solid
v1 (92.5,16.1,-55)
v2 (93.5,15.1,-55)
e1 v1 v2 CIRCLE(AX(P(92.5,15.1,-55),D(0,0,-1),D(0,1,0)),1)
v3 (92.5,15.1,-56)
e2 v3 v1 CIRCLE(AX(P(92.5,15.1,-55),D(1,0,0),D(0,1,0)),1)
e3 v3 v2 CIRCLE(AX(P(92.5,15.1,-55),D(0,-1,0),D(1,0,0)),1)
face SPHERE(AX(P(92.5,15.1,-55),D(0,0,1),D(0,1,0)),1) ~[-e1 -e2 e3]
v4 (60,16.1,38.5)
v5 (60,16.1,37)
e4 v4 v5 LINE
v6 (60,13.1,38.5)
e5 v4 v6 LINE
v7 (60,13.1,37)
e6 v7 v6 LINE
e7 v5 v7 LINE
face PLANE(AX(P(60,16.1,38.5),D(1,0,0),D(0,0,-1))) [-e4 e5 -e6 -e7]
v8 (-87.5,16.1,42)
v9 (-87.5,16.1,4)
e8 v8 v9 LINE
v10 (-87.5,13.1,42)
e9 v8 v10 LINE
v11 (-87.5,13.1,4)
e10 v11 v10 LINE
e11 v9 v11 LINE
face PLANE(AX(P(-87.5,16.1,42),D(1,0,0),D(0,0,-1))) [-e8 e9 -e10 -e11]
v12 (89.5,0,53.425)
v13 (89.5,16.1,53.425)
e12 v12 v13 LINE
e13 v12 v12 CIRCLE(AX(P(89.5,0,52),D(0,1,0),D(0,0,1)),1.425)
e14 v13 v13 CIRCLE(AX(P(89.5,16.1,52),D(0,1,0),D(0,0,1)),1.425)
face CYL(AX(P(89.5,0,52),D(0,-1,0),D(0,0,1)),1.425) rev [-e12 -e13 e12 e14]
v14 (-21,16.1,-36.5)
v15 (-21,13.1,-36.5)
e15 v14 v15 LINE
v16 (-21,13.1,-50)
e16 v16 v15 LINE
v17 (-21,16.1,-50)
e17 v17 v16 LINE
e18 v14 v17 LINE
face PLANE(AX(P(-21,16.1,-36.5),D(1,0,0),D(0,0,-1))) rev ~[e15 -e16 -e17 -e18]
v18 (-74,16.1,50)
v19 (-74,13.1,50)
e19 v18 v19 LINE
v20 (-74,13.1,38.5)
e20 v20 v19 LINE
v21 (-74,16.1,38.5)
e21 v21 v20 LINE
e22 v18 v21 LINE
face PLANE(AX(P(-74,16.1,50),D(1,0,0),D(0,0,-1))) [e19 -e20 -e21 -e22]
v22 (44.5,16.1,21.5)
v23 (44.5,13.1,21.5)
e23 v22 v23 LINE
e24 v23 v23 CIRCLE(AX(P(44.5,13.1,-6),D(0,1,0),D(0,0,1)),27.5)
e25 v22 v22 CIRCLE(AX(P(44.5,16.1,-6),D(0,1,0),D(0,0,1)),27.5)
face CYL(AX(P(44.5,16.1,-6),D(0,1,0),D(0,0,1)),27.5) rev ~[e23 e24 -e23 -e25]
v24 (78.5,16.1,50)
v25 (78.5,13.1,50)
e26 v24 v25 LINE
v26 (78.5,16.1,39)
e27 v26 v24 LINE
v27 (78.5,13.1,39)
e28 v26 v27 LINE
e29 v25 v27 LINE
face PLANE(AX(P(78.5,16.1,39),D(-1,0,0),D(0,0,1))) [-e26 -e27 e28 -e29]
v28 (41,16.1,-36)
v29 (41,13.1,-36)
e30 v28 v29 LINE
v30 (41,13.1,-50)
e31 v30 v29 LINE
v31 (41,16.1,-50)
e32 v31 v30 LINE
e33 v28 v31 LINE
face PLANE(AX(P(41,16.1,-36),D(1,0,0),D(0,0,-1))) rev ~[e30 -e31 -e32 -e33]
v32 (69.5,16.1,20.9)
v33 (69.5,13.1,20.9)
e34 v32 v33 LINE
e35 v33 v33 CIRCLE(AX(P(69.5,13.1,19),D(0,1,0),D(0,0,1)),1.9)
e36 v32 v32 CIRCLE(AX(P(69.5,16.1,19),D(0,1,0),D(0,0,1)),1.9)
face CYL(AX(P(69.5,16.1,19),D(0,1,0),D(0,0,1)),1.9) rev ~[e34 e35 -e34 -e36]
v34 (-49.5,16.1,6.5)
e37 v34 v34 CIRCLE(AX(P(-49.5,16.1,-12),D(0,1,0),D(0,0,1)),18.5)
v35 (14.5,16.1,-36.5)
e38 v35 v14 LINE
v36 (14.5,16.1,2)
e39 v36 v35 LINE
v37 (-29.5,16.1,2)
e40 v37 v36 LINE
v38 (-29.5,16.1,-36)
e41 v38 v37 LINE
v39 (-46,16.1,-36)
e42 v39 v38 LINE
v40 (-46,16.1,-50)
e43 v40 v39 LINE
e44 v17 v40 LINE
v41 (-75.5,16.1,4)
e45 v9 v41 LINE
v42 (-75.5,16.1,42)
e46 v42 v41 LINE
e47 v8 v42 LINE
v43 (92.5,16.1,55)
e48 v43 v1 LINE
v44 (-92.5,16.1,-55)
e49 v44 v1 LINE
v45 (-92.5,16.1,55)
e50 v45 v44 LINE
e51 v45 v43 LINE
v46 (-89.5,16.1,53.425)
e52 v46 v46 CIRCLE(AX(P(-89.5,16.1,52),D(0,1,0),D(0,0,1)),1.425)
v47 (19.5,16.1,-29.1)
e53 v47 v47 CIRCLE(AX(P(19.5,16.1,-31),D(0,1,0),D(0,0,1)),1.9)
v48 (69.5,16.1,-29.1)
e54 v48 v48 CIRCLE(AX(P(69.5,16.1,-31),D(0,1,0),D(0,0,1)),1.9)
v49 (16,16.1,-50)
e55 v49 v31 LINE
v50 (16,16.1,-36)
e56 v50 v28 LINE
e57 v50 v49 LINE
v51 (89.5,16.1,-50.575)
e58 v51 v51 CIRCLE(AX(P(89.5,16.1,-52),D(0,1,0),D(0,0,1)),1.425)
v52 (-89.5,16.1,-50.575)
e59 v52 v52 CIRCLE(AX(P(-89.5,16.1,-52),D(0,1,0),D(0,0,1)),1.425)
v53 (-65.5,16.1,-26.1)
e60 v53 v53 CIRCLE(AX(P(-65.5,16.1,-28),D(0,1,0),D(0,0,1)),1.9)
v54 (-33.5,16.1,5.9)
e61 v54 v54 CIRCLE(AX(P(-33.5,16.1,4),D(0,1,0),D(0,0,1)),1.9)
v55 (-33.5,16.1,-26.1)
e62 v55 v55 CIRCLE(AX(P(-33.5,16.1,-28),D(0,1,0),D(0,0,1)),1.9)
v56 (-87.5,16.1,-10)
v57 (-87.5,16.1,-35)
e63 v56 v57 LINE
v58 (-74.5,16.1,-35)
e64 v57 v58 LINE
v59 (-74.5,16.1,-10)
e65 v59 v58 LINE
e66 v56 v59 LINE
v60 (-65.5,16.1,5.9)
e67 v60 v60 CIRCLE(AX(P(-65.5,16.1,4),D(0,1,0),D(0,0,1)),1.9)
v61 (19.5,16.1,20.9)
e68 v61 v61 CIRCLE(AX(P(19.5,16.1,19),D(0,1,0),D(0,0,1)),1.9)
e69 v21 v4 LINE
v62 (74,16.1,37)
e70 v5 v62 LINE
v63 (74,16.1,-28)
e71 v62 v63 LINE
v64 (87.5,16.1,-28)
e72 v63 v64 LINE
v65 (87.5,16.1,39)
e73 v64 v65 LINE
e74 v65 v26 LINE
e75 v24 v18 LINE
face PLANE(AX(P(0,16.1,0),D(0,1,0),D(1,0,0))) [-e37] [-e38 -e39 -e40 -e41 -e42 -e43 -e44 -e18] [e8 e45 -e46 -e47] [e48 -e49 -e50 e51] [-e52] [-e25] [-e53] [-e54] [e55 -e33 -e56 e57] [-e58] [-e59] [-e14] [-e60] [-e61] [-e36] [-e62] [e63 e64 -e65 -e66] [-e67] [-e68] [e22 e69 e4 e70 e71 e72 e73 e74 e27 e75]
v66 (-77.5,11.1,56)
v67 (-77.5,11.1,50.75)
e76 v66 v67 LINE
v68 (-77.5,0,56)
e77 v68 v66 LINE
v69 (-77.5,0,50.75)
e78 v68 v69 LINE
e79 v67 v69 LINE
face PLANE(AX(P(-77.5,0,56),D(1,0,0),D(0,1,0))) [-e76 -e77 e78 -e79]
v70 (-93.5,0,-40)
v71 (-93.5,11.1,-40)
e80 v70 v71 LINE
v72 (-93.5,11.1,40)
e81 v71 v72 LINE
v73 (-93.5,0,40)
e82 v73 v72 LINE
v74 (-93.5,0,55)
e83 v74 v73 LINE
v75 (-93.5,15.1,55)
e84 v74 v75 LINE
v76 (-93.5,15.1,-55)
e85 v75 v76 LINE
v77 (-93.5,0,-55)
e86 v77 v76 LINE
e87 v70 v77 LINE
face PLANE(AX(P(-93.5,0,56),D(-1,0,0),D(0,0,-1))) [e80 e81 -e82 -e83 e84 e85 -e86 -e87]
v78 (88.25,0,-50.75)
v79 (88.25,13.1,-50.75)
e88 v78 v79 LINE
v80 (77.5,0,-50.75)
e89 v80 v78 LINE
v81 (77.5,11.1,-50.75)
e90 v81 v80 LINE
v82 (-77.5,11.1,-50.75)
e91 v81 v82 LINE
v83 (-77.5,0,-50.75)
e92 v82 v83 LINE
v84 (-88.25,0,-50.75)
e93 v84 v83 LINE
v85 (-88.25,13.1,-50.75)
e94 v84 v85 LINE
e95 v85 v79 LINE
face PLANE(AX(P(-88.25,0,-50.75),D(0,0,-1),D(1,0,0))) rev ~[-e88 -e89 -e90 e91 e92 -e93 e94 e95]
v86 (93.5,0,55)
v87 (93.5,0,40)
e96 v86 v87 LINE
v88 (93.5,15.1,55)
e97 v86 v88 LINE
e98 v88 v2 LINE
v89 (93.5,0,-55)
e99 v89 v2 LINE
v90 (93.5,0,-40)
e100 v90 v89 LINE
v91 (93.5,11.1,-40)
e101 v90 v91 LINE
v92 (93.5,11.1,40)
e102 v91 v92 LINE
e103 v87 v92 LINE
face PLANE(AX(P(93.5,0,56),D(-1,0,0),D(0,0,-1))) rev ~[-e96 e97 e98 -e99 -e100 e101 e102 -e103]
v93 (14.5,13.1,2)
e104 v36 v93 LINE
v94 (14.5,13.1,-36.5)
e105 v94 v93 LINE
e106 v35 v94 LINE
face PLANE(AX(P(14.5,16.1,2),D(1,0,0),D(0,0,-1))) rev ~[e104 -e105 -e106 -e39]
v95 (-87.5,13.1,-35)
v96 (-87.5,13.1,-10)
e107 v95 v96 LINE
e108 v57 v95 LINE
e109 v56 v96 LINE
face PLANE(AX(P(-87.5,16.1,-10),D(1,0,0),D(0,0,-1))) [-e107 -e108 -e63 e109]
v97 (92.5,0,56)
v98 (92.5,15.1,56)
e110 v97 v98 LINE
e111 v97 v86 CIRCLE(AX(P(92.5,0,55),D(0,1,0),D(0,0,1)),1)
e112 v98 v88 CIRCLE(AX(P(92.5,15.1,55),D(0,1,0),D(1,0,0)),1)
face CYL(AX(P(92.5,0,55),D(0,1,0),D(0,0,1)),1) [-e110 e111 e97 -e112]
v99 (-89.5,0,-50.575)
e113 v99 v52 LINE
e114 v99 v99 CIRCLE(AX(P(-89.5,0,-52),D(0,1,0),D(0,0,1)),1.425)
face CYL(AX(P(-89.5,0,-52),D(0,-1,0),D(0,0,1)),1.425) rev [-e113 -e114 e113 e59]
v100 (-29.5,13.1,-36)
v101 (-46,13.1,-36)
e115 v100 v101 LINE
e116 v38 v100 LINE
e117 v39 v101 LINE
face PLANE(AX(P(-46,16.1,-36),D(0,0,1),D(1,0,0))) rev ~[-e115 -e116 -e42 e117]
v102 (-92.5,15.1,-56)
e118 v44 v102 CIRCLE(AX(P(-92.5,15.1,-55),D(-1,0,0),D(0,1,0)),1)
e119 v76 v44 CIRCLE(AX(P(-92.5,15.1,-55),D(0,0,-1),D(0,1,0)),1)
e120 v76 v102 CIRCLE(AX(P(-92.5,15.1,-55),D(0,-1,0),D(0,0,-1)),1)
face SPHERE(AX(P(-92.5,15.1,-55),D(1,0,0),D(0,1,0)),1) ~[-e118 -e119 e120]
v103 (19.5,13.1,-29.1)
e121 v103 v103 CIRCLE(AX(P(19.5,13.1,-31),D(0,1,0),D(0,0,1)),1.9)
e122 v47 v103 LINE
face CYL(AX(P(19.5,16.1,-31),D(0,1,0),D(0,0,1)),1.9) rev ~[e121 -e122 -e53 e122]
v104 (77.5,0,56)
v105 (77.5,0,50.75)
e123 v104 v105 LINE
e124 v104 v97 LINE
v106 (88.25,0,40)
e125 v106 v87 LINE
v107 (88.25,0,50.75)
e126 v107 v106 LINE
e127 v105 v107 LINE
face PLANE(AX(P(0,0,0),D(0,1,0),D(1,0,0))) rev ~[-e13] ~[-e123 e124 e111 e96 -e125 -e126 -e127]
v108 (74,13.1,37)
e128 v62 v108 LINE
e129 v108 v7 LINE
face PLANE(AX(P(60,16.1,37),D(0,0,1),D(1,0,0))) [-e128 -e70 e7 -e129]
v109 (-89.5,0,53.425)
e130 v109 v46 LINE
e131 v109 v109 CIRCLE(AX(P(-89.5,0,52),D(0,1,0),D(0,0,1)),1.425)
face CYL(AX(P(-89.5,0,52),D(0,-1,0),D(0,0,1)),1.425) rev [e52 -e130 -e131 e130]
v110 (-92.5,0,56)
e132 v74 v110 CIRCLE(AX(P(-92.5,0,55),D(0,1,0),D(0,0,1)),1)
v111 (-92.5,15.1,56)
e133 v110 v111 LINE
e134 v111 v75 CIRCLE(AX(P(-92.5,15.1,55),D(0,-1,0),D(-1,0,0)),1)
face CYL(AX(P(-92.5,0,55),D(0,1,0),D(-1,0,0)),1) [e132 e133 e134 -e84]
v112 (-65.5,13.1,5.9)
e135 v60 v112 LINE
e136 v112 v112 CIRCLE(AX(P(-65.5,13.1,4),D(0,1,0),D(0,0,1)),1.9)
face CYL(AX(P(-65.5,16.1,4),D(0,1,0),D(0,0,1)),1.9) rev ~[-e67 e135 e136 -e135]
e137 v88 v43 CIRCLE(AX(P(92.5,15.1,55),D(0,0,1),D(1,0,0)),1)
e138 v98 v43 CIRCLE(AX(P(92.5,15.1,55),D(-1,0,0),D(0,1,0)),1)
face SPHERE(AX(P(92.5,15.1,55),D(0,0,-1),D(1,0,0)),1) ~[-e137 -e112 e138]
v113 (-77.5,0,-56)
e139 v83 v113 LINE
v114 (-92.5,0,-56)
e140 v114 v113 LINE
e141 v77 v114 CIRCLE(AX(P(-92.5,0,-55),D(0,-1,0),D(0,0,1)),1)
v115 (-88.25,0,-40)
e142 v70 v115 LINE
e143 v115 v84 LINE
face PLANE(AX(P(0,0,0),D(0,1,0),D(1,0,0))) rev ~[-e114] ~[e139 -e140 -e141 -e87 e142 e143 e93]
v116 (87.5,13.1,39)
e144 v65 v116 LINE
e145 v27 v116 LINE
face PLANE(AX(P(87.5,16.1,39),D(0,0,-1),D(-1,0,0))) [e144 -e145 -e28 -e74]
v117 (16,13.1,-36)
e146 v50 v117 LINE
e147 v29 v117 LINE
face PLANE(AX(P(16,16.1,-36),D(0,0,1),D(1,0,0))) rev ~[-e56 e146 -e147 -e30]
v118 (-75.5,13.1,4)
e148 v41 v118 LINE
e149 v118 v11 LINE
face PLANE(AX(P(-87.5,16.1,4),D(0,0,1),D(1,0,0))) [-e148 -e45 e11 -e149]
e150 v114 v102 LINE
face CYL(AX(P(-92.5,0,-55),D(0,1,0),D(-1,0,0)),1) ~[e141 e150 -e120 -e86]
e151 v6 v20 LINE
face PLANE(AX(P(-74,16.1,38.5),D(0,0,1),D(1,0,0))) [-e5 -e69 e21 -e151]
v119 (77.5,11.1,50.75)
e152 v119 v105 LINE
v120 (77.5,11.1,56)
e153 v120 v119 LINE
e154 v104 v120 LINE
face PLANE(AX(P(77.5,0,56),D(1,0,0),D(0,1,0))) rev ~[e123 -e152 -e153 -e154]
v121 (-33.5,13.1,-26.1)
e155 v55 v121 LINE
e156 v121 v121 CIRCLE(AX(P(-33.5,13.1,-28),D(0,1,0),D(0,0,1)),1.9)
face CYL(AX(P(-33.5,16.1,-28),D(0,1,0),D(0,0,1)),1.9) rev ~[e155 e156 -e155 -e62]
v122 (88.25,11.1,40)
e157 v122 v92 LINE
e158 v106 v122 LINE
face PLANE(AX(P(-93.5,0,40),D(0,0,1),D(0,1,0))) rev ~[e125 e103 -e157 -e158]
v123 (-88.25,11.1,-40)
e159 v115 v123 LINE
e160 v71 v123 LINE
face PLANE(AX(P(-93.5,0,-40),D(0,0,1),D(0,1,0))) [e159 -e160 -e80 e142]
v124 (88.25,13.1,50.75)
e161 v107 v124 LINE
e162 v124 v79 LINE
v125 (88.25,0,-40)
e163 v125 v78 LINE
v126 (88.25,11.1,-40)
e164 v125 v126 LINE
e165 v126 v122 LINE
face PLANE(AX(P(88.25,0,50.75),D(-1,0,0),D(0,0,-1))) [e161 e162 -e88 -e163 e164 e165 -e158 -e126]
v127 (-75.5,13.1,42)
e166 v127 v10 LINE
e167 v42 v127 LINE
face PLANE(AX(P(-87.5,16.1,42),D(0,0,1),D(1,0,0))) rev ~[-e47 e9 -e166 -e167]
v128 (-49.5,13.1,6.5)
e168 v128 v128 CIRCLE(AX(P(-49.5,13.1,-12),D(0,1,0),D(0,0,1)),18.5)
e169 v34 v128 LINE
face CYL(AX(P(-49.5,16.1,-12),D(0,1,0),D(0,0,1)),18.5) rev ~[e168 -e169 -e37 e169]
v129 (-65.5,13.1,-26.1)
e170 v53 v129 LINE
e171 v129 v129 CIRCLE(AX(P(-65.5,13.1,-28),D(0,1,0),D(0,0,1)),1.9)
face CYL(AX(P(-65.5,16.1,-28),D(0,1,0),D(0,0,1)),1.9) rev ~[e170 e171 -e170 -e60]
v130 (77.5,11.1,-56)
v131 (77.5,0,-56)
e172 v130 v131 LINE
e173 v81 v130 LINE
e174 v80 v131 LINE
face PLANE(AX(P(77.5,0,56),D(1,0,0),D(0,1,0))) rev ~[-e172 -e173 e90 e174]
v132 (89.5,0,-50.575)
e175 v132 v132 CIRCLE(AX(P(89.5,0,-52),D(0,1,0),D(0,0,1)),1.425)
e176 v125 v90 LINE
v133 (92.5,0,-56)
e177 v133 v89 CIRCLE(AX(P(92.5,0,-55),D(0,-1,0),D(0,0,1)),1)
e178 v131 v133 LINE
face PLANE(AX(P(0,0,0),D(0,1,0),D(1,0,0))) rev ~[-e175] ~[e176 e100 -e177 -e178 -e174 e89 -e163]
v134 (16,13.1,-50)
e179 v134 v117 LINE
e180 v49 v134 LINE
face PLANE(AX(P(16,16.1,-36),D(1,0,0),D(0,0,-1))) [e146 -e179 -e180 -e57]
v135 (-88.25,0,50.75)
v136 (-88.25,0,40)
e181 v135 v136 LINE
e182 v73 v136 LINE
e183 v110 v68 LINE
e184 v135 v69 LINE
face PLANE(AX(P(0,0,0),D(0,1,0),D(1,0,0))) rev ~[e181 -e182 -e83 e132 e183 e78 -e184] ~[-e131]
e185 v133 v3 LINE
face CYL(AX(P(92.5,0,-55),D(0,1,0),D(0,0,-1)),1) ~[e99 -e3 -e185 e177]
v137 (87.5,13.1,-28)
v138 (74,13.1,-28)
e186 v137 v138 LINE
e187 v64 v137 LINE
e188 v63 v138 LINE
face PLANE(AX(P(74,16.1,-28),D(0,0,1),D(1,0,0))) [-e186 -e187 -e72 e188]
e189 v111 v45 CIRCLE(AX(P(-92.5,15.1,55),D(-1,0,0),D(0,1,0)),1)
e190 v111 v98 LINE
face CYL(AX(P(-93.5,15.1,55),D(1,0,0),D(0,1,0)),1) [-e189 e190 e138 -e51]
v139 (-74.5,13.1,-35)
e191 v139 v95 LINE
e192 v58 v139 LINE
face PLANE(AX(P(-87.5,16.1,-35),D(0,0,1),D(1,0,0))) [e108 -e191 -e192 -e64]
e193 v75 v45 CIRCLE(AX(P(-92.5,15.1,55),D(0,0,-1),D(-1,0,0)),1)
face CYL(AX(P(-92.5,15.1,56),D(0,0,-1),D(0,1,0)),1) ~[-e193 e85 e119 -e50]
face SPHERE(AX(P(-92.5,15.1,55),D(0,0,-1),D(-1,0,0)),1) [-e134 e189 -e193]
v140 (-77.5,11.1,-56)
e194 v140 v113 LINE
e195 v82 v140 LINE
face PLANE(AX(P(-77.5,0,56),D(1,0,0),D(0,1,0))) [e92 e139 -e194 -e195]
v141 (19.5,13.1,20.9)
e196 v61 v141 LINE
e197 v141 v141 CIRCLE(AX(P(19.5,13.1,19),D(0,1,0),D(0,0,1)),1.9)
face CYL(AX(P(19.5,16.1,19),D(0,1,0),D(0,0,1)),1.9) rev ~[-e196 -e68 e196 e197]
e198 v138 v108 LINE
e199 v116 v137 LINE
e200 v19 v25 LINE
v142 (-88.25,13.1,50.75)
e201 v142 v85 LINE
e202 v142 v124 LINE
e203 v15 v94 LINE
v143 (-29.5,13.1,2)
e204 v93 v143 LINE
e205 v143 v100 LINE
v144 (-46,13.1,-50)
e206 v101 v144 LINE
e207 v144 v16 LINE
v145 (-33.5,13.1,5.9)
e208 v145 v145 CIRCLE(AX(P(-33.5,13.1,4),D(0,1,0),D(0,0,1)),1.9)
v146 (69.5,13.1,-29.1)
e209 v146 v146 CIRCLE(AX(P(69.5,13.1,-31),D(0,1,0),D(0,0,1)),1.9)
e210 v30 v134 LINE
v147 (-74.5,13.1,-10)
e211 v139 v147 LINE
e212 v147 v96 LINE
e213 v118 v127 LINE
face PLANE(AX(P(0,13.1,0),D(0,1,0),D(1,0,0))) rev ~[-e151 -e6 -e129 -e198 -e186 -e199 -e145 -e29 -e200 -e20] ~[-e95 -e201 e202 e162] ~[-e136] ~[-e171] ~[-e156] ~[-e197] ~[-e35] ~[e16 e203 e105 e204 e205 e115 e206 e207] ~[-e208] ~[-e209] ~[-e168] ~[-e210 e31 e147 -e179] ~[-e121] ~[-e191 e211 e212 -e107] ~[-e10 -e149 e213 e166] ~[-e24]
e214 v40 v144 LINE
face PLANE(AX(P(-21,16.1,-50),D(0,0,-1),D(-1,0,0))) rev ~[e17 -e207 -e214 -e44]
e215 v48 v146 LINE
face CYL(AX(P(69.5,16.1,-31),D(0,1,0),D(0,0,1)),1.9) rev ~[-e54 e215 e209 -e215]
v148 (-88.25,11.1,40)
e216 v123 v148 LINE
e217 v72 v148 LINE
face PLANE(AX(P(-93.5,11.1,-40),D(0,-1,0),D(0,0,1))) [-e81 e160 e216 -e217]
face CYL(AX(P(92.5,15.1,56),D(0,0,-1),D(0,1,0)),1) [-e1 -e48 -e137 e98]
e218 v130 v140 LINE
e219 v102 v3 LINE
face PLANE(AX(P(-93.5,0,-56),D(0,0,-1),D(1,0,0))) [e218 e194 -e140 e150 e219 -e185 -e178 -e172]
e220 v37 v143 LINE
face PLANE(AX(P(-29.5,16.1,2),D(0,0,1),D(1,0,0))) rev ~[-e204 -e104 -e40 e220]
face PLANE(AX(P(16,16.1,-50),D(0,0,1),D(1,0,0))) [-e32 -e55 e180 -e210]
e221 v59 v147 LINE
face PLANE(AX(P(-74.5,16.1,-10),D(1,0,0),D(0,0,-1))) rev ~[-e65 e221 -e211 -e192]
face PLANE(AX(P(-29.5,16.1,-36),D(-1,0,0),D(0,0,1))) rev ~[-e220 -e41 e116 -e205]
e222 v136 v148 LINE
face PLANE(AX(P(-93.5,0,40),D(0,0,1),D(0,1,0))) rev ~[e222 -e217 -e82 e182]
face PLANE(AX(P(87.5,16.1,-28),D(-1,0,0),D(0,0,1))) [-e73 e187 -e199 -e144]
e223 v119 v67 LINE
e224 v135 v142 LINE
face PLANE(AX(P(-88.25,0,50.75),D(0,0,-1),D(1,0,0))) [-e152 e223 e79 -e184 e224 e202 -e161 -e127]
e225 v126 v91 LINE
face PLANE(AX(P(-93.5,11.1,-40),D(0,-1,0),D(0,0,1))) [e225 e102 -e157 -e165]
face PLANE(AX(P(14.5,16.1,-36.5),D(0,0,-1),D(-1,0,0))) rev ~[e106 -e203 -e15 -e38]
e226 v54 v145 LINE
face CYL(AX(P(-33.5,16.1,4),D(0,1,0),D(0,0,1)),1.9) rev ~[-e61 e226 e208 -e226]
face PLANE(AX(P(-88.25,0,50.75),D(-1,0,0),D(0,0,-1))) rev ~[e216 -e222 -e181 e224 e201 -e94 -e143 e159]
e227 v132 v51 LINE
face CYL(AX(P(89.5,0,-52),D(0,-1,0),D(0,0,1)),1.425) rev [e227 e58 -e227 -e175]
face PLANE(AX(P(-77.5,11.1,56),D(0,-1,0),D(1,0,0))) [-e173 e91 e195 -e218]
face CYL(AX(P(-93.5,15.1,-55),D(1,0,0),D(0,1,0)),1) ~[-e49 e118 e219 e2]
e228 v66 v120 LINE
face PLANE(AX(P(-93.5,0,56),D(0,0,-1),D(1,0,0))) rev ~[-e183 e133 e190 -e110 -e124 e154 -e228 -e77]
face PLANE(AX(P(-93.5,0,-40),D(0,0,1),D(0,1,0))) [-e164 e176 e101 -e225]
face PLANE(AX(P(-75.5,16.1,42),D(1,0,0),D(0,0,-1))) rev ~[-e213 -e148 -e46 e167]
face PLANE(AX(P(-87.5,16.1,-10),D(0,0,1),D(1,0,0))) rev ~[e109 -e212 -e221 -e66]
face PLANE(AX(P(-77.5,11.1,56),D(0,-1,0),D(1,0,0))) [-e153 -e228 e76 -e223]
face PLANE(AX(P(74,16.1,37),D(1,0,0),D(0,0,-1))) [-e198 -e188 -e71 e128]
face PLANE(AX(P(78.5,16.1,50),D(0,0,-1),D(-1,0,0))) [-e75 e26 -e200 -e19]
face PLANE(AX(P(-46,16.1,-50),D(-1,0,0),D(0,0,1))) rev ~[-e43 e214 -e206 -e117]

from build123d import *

# Parameters (mm, degrees)
SKETCH1_W                = 187
SKETCH1_H                = 112
SKETCH1_R                = 1.425
SKETCH1_W_2              = 176.5
SKETCH1_H_2              = 101.5
EDGE_2_DEPTH             = 16.1
SKETCH2_W                = 176.5
SKETCH2_H                = 101.5
TOP_COVER_DEPTH          = 3
COMPONENTS_CUTOUTS_REACH = 112.17
SKETCH3_W                = 12
SKETCH3_H                = 38
SKETCH3_W_2              = 13
SKETCH3_H_2              = 25
SKETCH3_W_3              = 25
SKETCH3_H_3              = 14
FAN_HOLES_REACH          = 112.17
SKETCH6_R                = 1.9
SKETCH6_R_2              = 18.5
SKETCH6_R_3              = 27.5
SKETCH4_W                = 155
SKETCH4_H                = 11.1
LENGTH_AIR_VENTS_DEPTH   = 147.783718443
SKETCH5_W                = 80
SKETCH5_H                = 11.1
WIDTH_AIR_VENTS_DEPTH    = 196.867838095
FILLET1_R                = 1


with BuildPart() as part:
    # Sketch1 → Edge 2 (new body)
    with BuildSketch(Plane(origin=(0, 0, 0), x_dir=(1, 0, 0), z_dir=(0, 1, 0))):
        Rectangle(SKETCH1_W, SKETCH1_H)
        with Locations((-89.5, -52)):
            Circle(SKETCH1_R, mode=Mode.SUBTRACT)
        with Locations((89.5, -52)):
            Circle(SKETCH1_R, mode=Mode.SUBTRACT)
        with Locations((89.5, 52)):
            Circle(SKETCH1_R, mode=Mode.SUBTRACT)
        with Locations((-89.5, 52)):
            Circle(SKETCH1_R, mode=Mode.SUBTRACT)
        Rectangle(SKETCH1_W_2, SKETCH1_H_2, mode=Mode.SUBTRACT)
    extrude(amount=EDGE_2_DEPTH)

    # Sketch2 → Top Cover (add)
    with BuildSketch(Plane(origin=(0, 16.1, 0), x_dir=(1, 0, 0), z_dir=(0, 1, 0))):
        Rectangle(SKETCH2_W, SKETCH2_H)
    extrude(amount=-TOP_COVER_DEPTH)

    # Sketch3 → Components Cutouts (cut, up to next)
    with BuildSketch(Plane(origin=(0, 16.1, 0), x_dir=(1, 0, 0), z_dir=(0, 1, 0)), mode=Mode.PRIVATE) as components_cutouts_sk1:
        with Locations((-81.5, -23)):
            Rectangle(SKETCH3_W, SKETCH3_H)
    components_cutouts_tool1 = extrude(components_cutouts_sk1.sketch, amount=-COMPONENTS_CUTOUTS_REACH, mode=Mode.PRIVATE) & part.part
    # Sketch3 → Components Cutouts (cut, up to next)
    with BuildSketch(Plane(origin=(0, 16.1, 0), x_dir=(1, 0, 0), z_dir=(0, 1, 0)), mode=Mode.PRIVATE) as components_cutouts_sk2:
        Polygon((-29.5, 36), (-29.5, -2), (14.5, -2), (14.5, 36.5), (-21, 36.5), (-21, 50), (-46, 50), (-46, 36), align=None)
    components_cutouts_tool2 = extrude(components_cutouts_sk2.sketch, amount=-COMPONENTS_CUTOUTS_REACH, mode=Mode.PRIVATE) & part.part
    # Sketch3 → Components Cutouts (cut, up to next)
    with BuildSketch(Plane(origin=(0, 16.1, 0), x_dir=(1, 0, 0), z_dir=(0, 1, 0)), mode=Mode.PRIVATE) as components_cutouts_sk3:
        with Locations((-81, 22.5)):
            Rectangle(SKETCH3_W_2, SKETCH3_H_2)
    components_cutouts_tool3 = extrude(components_cutouts_sk3.sketch, amount=-COMPONENTS_CUTOUTS_REACH, mode=Mode.PRIVATE) & part.part
    # Sketch3 → Components Cutouts (cut, up to next)
    with BuildSketch(Plane(origin=(0, 16.1, 0), x_dir=(1, 0, 0), z_dir=(0, 1, 0)), mode=Mode.PRIVATE) as components_cutouts_sk4:
        Polygon((60, -38.5), (60, -37), (74, -37), (74, 28), (87.5, 28), (87.5, -39), (78.5, -39), (78.5, -50), (-74, -50), (-74, -38.5), align=None)
    components_cutouts_tool4 = extrude(components_cutouts_sk4.sketch, amount=-COMPONENTS_CUTOUTS_REACH, mode=Mode.PRIVATE) & part.part
    # Sketch3 → Components Cutouts (cut, up to next)
    with BuildSketch(Plane(origin=(0, 16.1, 0), x_dir=(1, 0, 0), z_dir=(0, 1, 0)), mode=Mode.PRIVATE) as components_cutouts_sk5:
        with Locations((28.5, 43)):
            Rectangle(SKETCH3_W_3, SKETCH3_H_3)
    components_cutouts_tool5 = extrude(components_cutouts_sk5.sketch, amount=-COMPONENTS_CUTOUTS_REACH, mode=Mode.PRIVATE) & part.part
    add(components_cutouts_tool1.solids().sort_by_distance((-81.5, 16.1, 23))[0], mode=Mode.SUBTRACT)
    add(components_cutouts_tool2.solids().sort_by_distance((-11.924347, 16.1, -21.628845))[0], mode=Mode.SUBTRACT)
    add(components_cutouts_tool3.solids().sort_by_distance((-81, 16.1, -22.5))[0], mode=Mode.SUBTRACT)
    add(components_cutouts_tool4.solids().sort_by_distance((61.793495, 16.1, 37.75))[0], mode=Mode.SUBTRACT)
    add(components_cutouts_tool5.solids().sort_by_distance((28.5, 16.1, -43))[0], mode=Mode.SUBTRACT)

    # Sketch6 → Fan Holes (cut, up to next)
    with BuildSketch(Plane(origin=(0, 16.1, 0), x_dir=(1, 0, 0), z_dir=(0, 1, 0)), mode=Mode.PRIVATE) as fan_holes_sk1:
        with Locations((-65.5, -4)):
            Circle(SKETCH6_R)
    fan_holes_tool1 = extrude(fan_holes_sk1.sketch, amount=-FAN_HOLES_REACH, mode=Mode.PRIVATE) & part.part
    # Sketch6 → Fan Holes (cut, up to next)
    with BuildSketch(Plane(origin=(0, 16.1, 0), x_dir=(1, 0, 0), z_dir=(0, 1, 0)), mode=Mode.PRIVATE) as fan_holes_sk2:
        with Locations((-65.5, 28)):
            Circle(SKETCH6_R)
    fan_holes_tool2 = extrude(fan_holes_sk2.sketch, amount=-FAN_HOLES_REACH, mode=Mode.PRIVATE) & part.part
    # Sketch6 → Fan Holes (cut, up to next)
    with BuildSketch(Plane(origin=(0, 16.1, 0), x_dir=(1, 0, 0), z_dir=(0, 1, 0)), mode=Mode.PRIVATE) as fan_holes_sk3:
        with Locations((-33.5, 28)):
            Circle(SKETCH6_R)
    fan_holes_tool3 = extrude(fan_holes_sk3.sketch, amount=-FAN_HOLES_REACH, mode=Mode.PRIVATE) & part.part
    # Sketch6 → Fan Holes (cut, up to next)
    with BuildSketch(Plane(origin=(0, 16.1, 0), x_dir=(1, 0, 0), z_dir=(0, 1, 0)), mode=Mode.PRIVATE) as fan_holes_sk4:
        with Locations((-33.5, -4)):
            Circle(SKETCH6_R)
    fan_holes_tool4 = extrude(fan_holes_sk4.sketch, amount=-FAN_HOLES_REACH, mode=Mode.PRIVATE) & part.part
    # Sketch6 → Fan Holes (cut, up to next)
    with BuildSketch(Plane(origin=(0, 16.1, 0), x_dir=(1, 0, 0), z_dir=(0, 1, 0)), mode=Mode.PRIVATE) as fan_holes_sk5:
        with Locations((-49.5, 12)):
            Circle(SKETCH6_R_2)
    fan_holes_tool5 = extrude(fan_holes_sk5.sketch, amount=-FAN_HOLES_REACH, mode=Mode.PRIVATE) & part.part
    # Sketch6 → Fan Holes (cut, up to next)
    with BuildSketch(Plane(origin=(0, 16.1, 0), x_dir=(1, 0, 0), z_dir=(0, 1, 0)), mode=Mode.PRIVATE) as fan_holes_sk6:
        with Locations((44.5, 6)):
            Circle(SKETCH6_R_3)
    fan_holes_tool6 = extrude(fan_holes_sk6.sketch, amount=-FAN_HOLES_REACH, mode=Mode.PRIVATE) & part.part
    # Sketch6 → Fan Holes (cut, up to next)
    with BuildSketch(Plane(origin=(0, 16.1, 0), x_dir=(1, 0, 0), z_dir=(0, 1, 0)), mode=Mode.PRIVATE) as fan_holes_sk7:
        with Locations((19.5, -19)):
            Circle(SKETCH6_R)
    fan_holes_tool7 = extrude(fan_holes_sk7.sketch, amount=-FAN_HOLES_REACH, mode=Mode.PRIVATE) & part.part
    # Sketch6 → Fan Holes (cut, up to next)
    with BuildSketch(Plane(origin=(0, 16.1, 0), x_dir=(1, 0, 0), z_dir=(0, 1, 0)), mode=Mode.PRIVATE) as fan_holes_sk8:
        with Locations((69.5, -19)):
            Circle(SKETCH6_R)
    fan_holes_tool8 = extrude(fan_holes_sk8.sketch, amount=-FAN_HOLES_REACH, mode=Mode.PRIVATE) & part.part
    # Sketch6 → Fan Holes (cut, up to next)
    with BuildSketch(Plane(origin=(0, 16.1, 0), x_dir=(1, 0, 0), z_dir=(0, 1, 0)), mode=Mode.PRIVATE) as fan_holes_sk9:
        with Locations((69.5, 31)):
            Circle(SKETCH6_R)
    fan_holes_tool9 = extrude(fan_holes_sk9.sketch, amount=-FAN_HOLES_REACH, mode=Mode.PRIVATE) & part.part
    # Sketch6 → Fan Holes (cut, up to next)
    with BuildSketch(Plane(origin=(0, 16.1, 0), x_dir=(1, 0, 0), z_dir=(0, 1, 0)), mode=Mode.PRIVATE) as fan_holes_sk10:
        with Locations((19.5, 31)):
            Circle(SKETCH6_R)
    fan_holes_tool10 = extrude(fan_holes_sk10.sketch, amount=-FAN_HOLES_REACH, mode=Mode.PRIVATE) & part.part
    add(fan_holes_tool1.solids().sort_by_distance((-65.5, 16.1, 4))[0], mode=Mode.SUBTRACT)
    add(fan_holes_tool2.solids().sort_by_distance((-65.5, 16.1, -28))[0], mode=Mode.SUBTRACT)
    add(fan_holes_tool3.solids().sort_by_distance((-33.5, 16.1, -28))[0], mode=Mode.SUBTRACT)
    add(fan_holes_tool4.solids().sort_by_distance((-33.5, 16.1, 4))[0], mode=Mode.SUBTRACT)
    add(fan_holes_tool5.solids().sort_by_distance((-49.5, 16.1, -12))[0], mode=Mode.SUBTRACT)
    add(fan_holes_tool6.solids().sort_by_distance((44.5, 16.1, -6))[0], mode=Mode.SUBTRACT)
    add(fan_holes_tool7.solids().sort_by_distance((19.5, 16.1, 19))[0], mode=Mode.SUBTRACT)
    add(fan_holes_tool8.solids().sort_by_distance((69.5, 16.1, 19))[0], mode=Mode.SUBTRACT)
    add(fan_holes_tool9.solids().sort_by_distance((69.5, 16.1, -31))[0], mode=Mode.SUBTRACT)
    add(fan_holes_tool10.solids().sort_by_distance((19.5, 16.1, -31))[0], mode=Mode.SUBTRACT)

    # Sketch4 → Length Air Vents (cut, through all)
    with BuildSketch(Plane.XY.offset(56)):
        with Locations((0, 5.55)):
            Rectangle(SKETCH4_W, SKETCH4_H)
    extrude(amount=-LENGTH_AIR_VENTS_DEPTH, mode=Mode.SUBTRACT)

    # Sketch5 → Width Air Vents (cut, through all)
    with BuildSketch(Plane.ZY.offset(93.5)):
        with Locations((0, 5.55)):
            Rectangle(SKETCH5_W, SKETCH5_H)
    extrude(amount=-WIDTH_AIR_VENTS_DEPTH, mode=Mode.SUBTRACT)

    # Fillet1
    fillet1_edges = [part.edges().sort_by_distance(p)[0] for p in [
        (-93.5, 8.05, -56),
        (93.5, 8.05, -56),
        (93.5, 8.05, 56),
        (93.5, 16.1, 0),
        (0, 16.1, -56),
        (-93.5, 16.1, 0),
        (0, 16.1, 56),
        (-93.5, 8.05, 56),
    ]]
    fillet(fillet1_edges, radius=FILLET1_R)


solid = part.part
